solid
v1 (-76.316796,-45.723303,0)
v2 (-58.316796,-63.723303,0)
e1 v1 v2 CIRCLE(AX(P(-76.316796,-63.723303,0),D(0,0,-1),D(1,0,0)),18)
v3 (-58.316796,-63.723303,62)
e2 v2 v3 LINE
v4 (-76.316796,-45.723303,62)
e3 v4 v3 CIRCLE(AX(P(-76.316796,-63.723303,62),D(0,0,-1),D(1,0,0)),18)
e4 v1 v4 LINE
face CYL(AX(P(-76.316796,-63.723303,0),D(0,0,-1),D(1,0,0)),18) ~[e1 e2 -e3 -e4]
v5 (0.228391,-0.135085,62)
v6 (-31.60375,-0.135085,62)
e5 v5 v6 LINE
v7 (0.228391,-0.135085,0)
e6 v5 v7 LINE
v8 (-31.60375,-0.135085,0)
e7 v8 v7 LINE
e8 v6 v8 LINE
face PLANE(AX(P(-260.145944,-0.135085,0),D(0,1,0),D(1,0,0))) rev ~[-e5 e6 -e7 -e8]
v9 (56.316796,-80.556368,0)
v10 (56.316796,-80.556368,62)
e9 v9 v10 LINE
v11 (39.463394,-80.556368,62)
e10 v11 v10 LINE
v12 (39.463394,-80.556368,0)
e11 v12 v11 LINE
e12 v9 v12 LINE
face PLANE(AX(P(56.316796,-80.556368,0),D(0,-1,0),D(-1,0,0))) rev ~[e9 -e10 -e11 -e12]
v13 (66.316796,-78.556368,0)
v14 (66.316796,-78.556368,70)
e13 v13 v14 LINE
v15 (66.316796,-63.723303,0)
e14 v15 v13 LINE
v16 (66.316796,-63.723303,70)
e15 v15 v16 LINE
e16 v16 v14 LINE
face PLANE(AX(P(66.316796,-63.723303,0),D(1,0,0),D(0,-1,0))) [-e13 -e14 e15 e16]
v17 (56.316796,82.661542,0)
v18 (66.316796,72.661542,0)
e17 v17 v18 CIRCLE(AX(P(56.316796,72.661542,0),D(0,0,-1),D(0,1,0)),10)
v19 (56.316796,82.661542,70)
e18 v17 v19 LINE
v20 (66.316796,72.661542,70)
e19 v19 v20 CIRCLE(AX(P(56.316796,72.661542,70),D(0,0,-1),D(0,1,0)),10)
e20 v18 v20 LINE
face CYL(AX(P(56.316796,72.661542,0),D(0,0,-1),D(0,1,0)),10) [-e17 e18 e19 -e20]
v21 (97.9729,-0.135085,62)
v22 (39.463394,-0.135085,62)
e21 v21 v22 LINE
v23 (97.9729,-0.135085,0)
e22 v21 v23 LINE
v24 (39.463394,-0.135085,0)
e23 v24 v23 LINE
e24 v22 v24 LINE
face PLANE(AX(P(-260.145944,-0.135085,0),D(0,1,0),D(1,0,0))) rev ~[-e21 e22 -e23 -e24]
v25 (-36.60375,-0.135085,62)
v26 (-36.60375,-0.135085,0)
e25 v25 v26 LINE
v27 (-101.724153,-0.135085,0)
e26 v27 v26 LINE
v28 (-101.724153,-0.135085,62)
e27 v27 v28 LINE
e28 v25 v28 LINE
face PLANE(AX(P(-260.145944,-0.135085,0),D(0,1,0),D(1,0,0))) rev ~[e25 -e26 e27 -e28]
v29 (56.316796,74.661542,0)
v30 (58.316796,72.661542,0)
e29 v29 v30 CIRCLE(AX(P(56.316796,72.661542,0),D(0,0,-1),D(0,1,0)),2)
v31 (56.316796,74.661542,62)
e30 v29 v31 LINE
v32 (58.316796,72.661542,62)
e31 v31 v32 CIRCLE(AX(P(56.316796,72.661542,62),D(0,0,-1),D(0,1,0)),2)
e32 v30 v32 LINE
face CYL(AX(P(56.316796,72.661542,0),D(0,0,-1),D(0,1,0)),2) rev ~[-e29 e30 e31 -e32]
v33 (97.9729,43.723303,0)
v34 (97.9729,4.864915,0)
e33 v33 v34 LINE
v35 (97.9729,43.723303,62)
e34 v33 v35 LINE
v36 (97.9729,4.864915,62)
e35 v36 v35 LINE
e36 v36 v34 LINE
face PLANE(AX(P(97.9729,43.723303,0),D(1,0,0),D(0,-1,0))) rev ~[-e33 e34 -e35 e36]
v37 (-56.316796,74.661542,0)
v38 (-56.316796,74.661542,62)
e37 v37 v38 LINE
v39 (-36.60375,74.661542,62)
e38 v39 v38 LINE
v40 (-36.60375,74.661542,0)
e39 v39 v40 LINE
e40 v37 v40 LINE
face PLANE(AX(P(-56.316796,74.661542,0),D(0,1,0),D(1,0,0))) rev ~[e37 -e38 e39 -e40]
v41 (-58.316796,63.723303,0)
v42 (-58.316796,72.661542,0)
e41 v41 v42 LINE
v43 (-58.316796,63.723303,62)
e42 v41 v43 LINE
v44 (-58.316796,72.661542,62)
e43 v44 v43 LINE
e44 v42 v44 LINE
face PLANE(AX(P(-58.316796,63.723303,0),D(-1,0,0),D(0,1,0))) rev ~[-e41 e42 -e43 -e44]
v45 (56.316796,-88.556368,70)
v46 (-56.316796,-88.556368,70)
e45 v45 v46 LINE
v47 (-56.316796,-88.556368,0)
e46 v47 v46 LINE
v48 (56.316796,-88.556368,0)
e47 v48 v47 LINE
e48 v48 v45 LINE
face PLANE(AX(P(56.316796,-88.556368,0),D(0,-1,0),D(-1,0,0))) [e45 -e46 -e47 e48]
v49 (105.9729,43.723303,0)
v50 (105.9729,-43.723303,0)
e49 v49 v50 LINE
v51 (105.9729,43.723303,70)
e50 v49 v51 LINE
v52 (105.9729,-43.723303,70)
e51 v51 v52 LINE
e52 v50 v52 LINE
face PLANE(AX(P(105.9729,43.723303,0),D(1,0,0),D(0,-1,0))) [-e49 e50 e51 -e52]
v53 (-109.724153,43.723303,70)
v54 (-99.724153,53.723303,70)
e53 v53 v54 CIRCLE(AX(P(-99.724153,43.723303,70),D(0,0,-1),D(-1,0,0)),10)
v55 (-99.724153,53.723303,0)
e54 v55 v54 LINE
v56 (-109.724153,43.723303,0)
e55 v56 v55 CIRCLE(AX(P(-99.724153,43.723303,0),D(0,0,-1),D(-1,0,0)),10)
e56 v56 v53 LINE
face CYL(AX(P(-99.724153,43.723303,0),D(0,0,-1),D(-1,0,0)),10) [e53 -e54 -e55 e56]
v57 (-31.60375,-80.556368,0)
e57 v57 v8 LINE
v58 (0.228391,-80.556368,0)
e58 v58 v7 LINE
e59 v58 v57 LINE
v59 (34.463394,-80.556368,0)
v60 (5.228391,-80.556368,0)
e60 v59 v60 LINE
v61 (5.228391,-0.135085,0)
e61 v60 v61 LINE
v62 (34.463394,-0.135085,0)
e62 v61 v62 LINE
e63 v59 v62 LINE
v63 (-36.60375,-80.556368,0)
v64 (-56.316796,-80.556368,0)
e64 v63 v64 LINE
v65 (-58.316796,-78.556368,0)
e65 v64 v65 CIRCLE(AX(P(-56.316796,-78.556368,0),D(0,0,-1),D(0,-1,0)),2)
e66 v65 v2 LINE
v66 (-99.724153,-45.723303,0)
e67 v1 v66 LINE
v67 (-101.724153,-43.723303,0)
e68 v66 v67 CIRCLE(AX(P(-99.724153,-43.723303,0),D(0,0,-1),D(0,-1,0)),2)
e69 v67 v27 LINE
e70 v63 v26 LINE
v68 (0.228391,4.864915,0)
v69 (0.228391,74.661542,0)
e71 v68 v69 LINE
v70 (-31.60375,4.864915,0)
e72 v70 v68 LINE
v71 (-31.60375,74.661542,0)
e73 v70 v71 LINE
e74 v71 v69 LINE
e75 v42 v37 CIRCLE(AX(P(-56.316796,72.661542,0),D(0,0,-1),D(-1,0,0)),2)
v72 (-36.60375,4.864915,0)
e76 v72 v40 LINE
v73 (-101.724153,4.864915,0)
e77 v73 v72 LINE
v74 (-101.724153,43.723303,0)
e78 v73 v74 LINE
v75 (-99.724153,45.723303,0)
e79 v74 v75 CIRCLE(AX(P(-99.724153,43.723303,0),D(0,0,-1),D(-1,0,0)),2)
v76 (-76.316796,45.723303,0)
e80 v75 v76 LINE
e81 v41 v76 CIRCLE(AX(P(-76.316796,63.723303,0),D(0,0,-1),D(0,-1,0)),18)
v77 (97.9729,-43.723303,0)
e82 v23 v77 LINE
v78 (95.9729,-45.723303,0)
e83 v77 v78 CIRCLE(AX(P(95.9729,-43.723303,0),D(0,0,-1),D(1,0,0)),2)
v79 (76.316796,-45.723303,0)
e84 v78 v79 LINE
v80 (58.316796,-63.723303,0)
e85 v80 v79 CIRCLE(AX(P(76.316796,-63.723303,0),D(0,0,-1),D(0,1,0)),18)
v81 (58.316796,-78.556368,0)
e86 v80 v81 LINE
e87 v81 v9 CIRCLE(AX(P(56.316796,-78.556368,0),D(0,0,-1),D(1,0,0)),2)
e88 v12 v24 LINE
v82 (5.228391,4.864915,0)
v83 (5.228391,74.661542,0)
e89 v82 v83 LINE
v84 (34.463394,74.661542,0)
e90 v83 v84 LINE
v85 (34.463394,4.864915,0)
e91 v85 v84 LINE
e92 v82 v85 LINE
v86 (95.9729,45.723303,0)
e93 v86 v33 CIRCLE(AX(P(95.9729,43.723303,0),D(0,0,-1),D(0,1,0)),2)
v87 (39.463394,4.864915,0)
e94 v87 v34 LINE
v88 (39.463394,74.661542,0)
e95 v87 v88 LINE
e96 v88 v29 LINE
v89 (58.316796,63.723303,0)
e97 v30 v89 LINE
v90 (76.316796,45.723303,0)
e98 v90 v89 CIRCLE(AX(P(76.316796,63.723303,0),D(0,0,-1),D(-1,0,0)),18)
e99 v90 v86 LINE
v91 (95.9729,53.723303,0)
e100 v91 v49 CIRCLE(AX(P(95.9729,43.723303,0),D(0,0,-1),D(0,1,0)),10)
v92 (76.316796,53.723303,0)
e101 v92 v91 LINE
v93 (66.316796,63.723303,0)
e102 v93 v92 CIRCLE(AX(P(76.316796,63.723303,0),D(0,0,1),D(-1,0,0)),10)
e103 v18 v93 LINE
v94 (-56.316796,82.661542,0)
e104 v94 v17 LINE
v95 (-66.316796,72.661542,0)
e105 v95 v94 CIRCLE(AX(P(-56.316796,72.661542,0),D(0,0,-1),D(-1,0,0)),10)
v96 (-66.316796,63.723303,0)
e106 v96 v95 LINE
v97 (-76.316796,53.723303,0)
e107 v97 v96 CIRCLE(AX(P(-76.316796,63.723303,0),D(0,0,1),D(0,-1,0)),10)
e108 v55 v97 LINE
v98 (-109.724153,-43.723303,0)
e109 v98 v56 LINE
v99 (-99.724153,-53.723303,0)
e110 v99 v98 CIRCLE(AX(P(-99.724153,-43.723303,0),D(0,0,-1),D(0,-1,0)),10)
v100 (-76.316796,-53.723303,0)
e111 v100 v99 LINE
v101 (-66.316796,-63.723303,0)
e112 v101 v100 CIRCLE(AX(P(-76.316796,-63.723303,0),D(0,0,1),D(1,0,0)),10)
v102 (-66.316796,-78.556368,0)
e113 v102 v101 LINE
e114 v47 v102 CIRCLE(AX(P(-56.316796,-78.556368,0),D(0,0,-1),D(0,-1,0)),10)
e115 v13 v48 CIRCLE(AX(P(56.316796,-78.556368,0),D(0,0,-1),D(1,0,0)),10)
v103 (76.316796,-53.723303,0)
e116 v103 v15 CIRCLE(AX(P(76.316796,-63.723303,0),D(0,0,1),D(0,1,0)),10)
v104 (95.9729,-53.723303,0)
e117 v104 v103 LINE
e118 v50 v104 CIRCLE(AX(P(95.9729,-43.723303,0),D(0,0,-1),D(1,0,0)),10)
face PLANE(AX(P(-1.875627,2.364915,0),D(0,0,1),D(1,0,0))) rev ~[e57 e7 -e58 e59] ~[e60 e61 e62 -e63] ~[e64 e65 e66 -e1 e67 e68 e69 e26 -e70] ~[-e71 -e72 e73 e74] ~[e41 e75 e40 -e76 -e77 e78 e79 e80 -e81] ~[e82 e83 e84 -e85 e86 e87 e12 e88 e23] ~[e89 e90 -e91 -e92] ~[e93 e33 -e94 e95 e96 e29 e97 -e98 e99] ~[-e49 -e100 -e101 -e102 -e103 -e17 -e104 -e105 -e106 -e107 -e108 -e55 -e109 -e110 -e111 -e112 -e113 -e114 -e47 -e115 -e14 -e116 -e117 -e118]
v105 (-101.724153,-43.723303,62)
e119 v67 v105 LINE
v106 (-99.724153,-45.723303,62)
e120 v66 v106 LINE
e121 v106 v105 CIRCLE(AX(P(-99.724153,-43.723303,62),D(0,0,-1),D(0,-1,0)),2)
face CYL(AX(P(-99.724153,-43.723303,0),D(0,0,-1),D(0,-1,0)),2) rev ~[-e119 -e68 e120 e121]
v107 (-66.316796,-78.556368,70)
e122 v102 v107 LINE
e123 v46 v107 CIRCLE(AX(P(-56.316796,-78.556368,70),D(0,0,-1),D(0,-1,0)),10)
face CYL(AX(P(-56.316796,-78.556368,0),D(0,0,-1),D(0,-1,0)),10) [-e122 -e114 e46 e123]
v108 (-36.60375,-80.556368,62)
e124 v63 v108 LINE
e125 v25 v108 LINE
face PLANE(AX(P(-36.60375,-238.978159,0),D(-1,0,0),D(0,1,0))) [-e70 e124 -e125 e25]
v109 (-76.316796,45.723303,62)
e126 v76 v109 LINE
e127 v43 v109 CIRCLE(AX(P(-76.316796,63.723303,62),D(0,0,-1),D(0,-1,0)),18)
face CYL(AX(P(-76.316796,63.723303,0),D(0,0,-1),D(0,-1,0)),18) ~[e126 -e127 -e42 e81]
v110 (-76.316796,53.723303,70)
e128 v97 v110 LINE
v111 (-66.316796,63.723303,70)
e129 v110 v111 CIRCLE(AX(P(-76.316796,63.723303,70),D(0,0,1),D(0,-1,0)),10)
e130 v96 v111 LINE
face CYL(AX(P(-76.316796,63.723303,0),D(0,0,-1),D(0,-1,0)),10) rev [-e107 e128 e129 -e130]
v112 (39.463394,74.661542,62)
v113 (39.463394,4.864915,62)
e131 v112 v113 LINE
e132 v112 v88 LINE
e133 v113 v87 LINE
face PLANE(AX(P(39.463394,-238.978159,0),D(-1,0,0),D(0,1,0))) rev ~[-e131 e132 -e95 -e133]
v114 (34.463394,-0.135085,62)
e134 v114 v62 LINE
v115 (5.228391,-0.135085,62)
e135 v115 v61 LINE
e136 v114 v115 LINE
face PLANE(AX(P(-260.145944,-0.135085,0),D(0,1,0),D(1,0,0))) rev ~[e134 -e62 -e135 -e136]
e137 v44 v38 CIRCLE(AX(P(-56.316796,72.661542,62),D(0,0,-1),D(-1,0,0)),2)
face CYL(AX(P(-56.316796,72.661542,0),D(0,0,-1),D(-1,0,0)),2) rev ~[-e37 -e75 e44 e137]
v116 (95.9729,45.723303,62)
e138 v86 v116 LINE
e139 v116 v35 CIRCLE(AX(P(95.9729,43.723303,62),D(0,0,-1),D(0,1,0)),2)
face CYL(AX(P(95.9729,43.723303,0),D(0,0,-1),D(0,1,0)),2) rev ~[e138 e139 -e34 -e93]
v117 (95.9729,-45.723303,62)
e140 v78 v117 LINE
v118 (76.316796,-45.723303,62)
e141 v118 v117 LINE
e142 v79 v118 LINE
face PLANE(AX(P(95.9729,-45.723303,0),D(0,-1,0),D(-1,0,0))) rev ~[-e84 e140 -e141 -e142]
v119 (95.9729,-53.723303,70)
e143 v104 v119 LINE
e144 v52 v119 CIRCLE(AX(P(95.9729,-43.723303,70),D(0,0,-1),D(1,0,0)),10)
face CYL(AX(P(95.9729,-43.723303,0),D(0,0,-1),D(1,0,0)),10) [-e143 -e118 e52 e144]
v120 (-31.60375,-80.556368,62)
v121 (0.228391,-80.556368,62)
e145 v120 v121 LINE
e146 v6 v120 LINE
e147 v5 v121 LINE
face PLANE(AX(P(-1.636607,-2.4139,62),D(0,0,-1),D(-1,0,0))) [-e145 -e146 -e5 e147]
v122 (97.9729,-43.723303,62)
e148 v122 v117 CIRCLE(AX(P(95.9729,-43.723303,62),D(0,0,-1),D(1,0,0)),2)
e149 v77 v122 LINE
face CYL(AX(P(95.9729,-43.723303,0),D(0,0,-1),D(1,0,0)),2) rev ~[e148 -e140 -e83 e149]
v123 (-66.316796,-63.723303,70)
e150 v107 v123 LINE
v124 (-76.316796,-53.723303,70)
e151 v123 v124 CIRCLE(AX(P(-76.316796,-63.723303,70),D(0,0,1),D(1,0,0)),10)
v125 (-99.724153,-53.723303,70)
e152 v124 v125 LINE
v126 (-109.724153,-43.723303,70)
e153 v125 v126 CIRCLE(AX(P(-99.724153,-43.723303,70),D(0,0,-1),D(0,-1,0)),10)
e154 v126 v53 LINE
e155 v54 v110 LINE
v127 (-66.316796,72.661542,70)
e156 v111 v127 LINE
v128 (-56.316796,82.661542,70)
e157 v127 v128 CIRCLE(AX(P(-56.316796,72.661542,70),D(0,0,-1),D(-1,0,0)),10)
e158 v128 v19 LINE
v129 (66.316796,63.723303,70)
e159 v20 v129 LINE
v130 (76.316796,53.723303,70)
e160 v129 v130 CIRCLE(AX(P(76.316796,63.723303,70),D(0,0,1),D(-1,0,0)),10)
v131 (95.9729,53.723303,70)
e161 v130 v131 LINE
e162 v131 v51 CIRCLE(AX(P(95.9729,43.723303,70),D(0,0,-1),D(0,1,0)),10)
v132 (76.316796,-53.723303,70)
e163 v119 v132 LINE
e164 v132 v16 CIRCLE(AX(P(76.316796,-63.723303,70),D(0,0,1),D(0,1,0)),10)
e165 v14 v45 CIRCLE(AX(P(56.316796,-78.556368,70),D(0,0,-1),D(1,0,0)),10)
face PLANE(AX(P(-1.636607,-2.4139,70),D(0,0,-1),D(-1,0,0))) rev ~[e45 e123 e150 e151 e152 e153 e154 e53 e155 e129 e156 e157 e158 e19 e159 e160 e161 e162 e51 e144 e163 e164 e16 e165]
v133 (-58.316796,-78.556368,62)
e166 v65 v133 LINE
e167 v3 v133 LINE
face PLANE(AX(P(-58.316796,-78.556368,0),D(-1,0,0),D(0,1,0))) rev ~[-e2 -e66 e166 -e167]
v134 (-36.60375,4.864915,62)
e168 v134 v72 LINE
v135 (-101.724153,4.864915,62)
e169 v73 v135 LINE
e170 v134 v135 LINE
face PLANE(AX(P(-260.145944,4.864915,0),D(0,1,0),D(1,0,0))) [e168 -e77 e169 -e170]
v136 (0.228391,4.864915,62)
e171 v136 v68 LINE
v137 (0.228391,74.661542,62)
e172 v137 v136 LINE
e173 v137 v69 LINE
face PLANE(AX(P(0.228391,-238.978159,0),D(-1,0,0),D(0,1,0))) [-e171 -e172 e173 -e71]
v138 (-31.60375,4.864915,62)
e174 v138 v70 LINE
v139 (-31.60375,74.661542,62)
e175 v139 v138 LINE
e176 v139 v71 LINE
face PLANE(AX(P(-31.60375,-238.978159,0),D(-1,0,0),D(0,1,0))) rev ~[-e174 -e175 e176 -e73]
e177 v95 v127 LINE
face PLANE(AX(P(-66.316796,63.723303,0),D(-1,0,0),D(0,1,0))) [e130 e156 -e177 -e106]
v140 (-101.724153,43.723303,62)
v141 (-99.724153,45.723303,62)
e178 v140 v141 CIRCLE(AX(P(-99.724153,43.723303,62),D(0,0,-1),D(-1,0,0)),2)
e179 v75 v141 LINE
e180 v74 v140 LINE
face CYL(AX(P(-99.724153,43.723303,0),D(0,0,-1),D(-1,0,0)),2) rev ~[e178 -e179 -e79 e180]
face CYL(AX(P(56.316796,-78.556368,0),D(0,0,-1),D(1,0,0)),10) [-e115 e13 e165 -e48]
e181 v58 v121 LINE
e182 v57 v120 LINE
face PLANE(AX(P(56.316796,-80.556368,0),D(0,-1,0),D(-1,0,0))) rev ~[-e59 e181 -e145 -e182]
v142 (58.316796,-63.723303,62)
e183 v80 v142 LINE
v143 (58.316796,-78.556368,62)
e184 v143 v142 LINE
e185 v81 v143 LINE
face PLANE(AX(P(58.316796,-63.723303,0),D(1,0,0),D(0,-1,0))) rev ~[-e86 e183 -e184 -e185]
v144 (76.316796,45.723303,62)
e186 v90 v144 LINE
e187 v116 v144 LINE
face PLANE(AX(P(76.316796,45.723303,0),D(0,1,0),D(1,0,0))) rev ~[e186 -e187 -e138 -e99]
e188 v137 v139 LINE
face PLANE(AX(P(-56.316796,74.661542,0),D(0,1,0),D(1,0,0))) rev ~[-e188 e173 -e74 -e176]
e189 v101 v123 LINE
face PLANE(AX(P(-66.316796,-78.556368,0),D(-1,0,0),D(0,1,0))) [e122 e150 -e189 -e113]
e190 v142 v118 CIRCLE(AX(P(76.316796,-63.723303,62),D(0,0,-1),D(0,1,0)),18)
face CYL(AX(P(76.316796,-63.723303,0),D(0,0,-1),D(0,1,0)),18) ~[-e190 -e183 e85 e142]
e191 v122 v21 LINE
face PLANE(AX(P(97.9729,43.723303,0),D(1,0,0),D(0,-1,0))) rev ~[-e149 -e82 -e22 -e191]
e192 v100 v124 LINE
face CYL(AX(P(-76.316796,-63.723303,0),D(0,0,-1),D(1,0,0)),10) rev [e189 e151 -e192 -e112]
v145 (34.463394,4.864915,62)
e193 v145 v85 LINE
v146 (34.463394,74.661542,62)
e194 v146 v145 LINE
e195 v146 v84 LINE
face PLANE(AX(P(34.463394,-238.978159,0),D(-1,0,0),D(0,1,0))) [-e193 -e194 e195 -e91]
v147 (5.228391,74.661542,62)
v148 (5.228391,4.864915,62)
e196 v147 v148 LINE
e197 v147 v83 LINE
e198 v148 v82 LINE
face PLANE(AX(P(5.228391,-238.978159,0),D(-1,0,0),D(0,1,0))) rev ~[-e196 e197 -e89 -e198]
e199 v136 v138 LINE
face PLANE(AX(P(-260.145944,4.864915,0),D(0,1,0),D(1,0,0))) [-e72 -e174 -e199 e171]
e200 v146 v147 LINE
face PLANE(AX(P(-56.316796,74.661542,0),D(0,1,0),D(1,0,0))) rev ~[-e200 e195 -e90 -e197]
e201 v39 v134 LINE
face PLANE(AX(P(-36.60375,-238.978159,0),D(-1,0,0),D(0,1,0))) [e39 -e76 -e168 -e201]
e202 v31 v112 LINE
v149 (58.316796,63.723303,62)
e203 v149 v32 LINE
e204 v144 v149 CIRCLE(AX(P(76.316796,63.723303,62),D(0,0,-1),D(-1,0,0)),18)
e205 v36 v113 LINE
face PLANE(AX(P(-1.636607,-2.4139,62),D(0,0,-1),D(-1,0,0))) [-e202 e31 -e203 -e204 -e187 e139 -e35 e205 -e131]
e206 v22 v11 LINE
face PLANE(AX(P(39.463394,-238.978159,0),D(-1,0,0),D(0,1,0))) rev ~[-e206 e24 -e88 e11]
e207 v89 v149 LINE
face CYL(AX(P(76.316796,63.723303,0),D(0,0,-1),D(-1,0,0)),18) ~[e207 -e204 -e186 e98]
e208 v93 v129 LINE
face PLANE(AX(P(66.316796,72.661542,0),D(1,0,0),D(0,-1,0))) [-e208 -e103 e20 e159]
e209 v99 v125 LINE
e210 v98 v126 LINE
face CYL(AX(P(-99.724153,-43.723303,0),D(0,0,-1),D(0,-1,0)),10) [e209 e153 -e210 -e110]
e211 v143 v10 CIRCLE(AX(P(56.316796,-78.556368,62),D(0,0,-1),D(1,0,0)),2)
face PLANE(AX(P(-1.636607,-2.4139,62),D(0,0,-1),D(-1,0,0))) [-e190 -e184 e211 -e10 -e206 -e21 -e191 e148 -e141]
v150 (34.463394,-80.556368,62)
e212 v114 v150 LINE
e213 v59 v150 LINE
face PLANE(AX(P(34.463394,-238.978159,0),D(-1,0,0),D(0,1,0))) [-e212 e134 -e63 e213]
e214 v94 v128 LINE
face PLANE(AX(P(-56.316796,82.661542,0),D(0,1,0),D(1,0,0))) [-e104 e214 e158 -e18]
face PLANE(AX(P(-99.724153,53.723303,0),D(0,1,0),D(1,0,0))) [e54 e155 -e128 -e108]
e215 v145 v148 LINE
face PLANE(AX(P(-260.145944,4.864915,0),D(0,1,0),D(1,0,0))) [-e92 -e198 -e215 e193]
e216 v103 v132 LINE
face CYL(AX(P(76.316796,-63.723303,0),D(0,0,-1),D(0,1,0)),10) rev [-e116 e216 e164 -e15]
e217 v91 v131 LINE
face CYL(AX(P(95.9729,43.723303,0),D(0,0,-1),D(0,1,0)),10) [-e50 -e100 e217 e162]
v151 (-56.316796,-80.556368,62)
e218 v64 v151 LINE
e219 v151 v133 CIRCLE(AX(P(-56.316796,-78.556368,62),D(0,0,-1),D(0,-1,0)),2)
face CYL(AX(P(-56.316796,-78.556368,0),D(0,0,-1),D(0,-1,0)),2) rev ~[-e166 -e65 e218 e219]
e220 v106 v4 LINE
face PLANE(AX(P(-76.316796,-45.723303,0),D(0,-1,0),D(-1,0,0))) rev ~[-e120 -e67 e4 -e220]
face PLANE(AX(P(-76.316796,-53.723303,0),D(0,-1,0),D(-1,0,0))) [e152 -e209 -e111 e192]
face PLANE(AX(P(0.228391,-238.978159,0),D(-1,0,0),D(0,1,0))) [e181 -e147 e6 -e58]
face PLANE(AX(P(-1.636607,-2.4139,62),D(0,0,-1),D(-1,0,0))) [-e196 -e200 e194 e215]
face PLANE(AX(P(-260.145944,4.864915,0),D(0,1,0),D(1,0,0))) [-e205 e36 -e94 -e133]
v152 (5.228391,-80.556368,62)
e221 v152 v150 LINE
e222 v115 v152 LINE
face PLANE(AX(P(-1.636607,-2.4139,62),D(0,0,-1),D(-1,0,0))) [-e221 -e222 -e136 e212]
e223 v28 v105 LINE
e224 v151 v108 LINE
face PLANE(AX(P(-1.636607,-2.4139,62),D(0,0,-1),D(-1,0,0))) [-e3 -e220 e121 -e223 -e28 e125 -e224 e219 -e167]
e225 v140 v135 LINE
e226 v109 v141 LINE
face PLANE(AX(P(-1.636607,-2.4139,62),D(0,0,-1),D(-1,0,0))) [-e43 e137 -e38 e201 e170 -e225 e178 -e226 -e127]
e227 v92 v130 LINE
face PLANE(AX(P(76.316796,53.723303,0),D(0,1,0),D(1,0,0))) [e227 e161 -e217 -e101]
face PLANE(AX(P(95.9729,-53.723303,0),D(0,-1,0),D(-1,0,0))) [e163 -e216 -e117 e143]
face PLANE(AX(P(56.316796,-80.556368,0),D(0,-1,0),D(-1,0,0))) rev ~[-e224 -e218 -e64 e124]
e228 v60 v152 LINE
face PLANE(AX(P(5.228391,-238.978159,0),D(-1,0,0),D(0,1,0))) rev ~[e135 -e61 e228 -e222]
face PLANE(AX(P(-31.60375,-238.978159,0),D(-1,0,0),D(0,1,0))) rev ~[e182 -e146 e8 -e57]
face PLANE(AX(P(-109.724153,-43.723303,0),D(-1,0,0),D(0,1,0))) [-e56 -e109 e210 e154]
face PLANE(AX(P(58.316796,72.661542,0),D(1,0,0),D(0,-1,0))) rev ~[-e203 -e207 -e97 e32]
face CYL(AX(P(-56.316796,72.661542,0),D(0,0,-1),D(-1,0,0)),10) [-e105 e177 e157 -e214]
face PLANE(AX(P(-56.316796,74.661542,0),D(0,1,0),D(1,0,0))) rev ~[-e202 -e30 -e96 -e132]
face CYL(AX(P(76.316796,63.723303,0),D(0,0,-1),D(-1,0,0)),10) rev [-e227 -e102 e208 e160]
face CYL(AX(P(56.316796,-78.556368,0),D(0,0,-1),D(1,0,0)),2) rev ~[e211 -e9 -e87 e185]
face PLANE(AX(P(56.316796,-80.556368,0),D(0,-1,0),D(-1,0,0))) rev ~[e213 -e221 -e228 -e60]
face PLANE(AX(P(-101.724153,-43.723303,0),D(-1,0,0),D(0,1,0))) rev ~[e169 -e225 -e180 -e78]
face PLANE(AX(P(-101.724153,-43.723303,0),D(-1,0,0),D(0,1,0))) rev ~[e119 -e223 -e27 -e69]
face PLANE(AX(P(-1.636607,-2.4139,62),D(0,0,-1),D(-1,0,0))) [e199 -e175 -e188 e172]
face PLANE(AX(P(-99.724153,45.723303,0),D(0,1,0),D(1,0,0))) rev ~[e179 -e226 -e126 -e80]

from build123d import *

# Parameters (mm, degrees)
BOSS_EXTRUDE1_DEPTH = 70
SHELL1_T            = -8
RIB15_REACH         = 159.422
SKETCH3_WALLS_W     = 5
SKETCH3_WALLS_H     = 472.061491267
SKETCH3_WALLS_W_2   = 516.540635297
SKETCH3_WALLS_H_2   = 5


with BuildPart() as part:
    # Sketch1 → Boss-Extrude1 (new body)
    with BuildSketch(Plane.XY):
        with BuildLine():
            Line((76.31679607, 53.723303483), (95.972900387, 53.723303483))
            ThreePointArc((95.972900387, 53.723303483), (103.043968199, 50.794371295), (105.972900387, 43.723303483))
            Line((105.972900387, 43.723303483), (105.972900387, -43.723303483))
            ThreePointArc((105.972900387, -43.723303483), (103.043968199, -50.794371295), (95.972900387, -53.723303483))
            Line((95.972900387, -53.723303483), (76.31679607, -53.723303483))
            ThreePointArc((76.31679607, -53.723303483), (69.245728258, -56.652235671), (66.31679607, -63.723303483))
            Line((66.31679607, -63.723303483), (66.31679607, -78.556368085))
            ThreePointArc((66.31679607, -78.556368085), (63.387863882, -85.627435897), (56.31679607, -88.556368085))
            Line((56.31679607, -88.556368085), (-56.31679607, -88.556368085))
            ThreePointArc((-56.31679607, -88.556368085), (-63.387863882, -85.627435897), (-66.31679607, -78.556368085))
            Line((-66.31679607, -78.556368085), (-66.31679607, -63.723303483))
            ThreePointArc((-66.31679607, -63.723303483), (-69.245728258, -56.652235671), (-76.31679607, -53.723303483))
            Line((-76.31679607, -53.723303483), (-99.724153498, -53.723303483))
            ThreePointArc((-99.724153498, -53.723303483), (-106.79522131, -50.794371295), (-109.724153498, -43.723303483))
            Line((-109.724153498, -43.723303483), (-109.724153498, 43.723303483))
            ThreePointArc((-109.724153498, 43.723303483), (-106.79522131, 50.794371295), (-99.724153498, 53.723303483))
            Line((-99.724153498, 53.723303483), (-76.31679607, 53.723303483))
            ThreePointArc((-76.31679607, 53.723303483), (-69.245728258, 56.652235671), (-66.31679607, 63.723303483))
            Line((-66.31679607, 63.723303483), (-66.31679607, 72.661541768))
            ThreePointArc((-66.31679607, 72.661541768), (-63.387863882, 79.73260958), (-56.31679607, 82.661541768))
            Line((-56.31679607, 82.661541768), (56.31679607, 82.661541768))
            ThreePointArc((56.31679607, 82.661541768), (63.387863882, 79.73260958), (66.31679607, 72.661541768))
            Line((66.31679607, 72.661541768), (66.31679607, 63.723303483))
            ThreePointArc((66.31679607, 63.723303483), (69.245728258, 56.652235671), (76.31679607, 53.723303483))
        make_face()
    extrude(amount=BOSS_EXTRUDE1_DEPTH)

    # Shell1
    shell1_openings = [part.faces().sort_by_distance(p)[0] for p in [
        (-1.372763961, -2.113601646, 0),
    ]]
    offset(amount=SHELL1_T, openings=shell1_openings, kind=Kind.INTERSECTION)

    # Sketch3 walls → Rib15 (add, up to next)
    with BuildSketch(Plane.XY, mode=Mode.PRIVATE) as rib15_sk1:
        with Locations((-34.103750382, -2.947413158)):
            Rectangle(SKETCH3_WALLS_W, SKETCH3_WALLS_H)
    rib15_tool1 = extrude(rib15_sk1.sketch, amount=RIB15_REACH, mode=Mode.PRIVATE) - part.part
    # Sketch3 walls → Rib15 (add, up to next)
    with BuildSketch(Plane.XY, mode=Mode.PRIVATE) as rib15_sk2:
        with Locations((2.728391134, -2.947413158)):
            Rectangle(SKETCH3_WALLS_W, SKETCH3_WALLS_H)
    rib15_tool2 = extrude(rib15_sk2.sketch, amount=RIB15_REACH, mode=Mode.PRIVATE) - part.part
    # Sketch3 walls → Rib15 (add, up to next)
    with BuildSketch(Plane.XY, mode=Mode.PRIVATE) as rib15_sk3:
        with Locations((36.963394466, -2.947413158)):
            Rectangle(SKETCH3_WALLS_W, SKETCH3_WALLS_H)
    rib15_tool3 = extrude(rib15_sk3.sketch, amount=RIB15_REACH, mode=Mode.PRIVATE) - part.part
    # Sketch3 walls → Rib15 (add, up to next)
    with BuildSketch(Plane.XY, mode=Mode.PRIVATE) as rib15_sk4:
        with Locations((-1.875626555, 2.364914945)):
            Rectangle(SKETCH3_WALLS_W_2, SKETCH3_WALLS_H_2)
    rib15_tool4 = extrude(rib15_sk4.sketch, amount=RIB15_REACH, mode=Mode.PRIVATE) - part.part
    add(rib15_tool1.solids().sort_by_distance((-34.103750382, -2.947413159, 0))[0])
    add(rib15_tool2.solids().sort_by_distance((2.728391134, -2.947413159, 0))[0])
    add(rib15_tool3.solids().sort_by_distance((36.963394466, -2.947413159, 0))[0])
    add(rib15_tool4.solids().sort_by_distance((-1.875626556, 2.364914945, 0))[0])


solid = part.part
